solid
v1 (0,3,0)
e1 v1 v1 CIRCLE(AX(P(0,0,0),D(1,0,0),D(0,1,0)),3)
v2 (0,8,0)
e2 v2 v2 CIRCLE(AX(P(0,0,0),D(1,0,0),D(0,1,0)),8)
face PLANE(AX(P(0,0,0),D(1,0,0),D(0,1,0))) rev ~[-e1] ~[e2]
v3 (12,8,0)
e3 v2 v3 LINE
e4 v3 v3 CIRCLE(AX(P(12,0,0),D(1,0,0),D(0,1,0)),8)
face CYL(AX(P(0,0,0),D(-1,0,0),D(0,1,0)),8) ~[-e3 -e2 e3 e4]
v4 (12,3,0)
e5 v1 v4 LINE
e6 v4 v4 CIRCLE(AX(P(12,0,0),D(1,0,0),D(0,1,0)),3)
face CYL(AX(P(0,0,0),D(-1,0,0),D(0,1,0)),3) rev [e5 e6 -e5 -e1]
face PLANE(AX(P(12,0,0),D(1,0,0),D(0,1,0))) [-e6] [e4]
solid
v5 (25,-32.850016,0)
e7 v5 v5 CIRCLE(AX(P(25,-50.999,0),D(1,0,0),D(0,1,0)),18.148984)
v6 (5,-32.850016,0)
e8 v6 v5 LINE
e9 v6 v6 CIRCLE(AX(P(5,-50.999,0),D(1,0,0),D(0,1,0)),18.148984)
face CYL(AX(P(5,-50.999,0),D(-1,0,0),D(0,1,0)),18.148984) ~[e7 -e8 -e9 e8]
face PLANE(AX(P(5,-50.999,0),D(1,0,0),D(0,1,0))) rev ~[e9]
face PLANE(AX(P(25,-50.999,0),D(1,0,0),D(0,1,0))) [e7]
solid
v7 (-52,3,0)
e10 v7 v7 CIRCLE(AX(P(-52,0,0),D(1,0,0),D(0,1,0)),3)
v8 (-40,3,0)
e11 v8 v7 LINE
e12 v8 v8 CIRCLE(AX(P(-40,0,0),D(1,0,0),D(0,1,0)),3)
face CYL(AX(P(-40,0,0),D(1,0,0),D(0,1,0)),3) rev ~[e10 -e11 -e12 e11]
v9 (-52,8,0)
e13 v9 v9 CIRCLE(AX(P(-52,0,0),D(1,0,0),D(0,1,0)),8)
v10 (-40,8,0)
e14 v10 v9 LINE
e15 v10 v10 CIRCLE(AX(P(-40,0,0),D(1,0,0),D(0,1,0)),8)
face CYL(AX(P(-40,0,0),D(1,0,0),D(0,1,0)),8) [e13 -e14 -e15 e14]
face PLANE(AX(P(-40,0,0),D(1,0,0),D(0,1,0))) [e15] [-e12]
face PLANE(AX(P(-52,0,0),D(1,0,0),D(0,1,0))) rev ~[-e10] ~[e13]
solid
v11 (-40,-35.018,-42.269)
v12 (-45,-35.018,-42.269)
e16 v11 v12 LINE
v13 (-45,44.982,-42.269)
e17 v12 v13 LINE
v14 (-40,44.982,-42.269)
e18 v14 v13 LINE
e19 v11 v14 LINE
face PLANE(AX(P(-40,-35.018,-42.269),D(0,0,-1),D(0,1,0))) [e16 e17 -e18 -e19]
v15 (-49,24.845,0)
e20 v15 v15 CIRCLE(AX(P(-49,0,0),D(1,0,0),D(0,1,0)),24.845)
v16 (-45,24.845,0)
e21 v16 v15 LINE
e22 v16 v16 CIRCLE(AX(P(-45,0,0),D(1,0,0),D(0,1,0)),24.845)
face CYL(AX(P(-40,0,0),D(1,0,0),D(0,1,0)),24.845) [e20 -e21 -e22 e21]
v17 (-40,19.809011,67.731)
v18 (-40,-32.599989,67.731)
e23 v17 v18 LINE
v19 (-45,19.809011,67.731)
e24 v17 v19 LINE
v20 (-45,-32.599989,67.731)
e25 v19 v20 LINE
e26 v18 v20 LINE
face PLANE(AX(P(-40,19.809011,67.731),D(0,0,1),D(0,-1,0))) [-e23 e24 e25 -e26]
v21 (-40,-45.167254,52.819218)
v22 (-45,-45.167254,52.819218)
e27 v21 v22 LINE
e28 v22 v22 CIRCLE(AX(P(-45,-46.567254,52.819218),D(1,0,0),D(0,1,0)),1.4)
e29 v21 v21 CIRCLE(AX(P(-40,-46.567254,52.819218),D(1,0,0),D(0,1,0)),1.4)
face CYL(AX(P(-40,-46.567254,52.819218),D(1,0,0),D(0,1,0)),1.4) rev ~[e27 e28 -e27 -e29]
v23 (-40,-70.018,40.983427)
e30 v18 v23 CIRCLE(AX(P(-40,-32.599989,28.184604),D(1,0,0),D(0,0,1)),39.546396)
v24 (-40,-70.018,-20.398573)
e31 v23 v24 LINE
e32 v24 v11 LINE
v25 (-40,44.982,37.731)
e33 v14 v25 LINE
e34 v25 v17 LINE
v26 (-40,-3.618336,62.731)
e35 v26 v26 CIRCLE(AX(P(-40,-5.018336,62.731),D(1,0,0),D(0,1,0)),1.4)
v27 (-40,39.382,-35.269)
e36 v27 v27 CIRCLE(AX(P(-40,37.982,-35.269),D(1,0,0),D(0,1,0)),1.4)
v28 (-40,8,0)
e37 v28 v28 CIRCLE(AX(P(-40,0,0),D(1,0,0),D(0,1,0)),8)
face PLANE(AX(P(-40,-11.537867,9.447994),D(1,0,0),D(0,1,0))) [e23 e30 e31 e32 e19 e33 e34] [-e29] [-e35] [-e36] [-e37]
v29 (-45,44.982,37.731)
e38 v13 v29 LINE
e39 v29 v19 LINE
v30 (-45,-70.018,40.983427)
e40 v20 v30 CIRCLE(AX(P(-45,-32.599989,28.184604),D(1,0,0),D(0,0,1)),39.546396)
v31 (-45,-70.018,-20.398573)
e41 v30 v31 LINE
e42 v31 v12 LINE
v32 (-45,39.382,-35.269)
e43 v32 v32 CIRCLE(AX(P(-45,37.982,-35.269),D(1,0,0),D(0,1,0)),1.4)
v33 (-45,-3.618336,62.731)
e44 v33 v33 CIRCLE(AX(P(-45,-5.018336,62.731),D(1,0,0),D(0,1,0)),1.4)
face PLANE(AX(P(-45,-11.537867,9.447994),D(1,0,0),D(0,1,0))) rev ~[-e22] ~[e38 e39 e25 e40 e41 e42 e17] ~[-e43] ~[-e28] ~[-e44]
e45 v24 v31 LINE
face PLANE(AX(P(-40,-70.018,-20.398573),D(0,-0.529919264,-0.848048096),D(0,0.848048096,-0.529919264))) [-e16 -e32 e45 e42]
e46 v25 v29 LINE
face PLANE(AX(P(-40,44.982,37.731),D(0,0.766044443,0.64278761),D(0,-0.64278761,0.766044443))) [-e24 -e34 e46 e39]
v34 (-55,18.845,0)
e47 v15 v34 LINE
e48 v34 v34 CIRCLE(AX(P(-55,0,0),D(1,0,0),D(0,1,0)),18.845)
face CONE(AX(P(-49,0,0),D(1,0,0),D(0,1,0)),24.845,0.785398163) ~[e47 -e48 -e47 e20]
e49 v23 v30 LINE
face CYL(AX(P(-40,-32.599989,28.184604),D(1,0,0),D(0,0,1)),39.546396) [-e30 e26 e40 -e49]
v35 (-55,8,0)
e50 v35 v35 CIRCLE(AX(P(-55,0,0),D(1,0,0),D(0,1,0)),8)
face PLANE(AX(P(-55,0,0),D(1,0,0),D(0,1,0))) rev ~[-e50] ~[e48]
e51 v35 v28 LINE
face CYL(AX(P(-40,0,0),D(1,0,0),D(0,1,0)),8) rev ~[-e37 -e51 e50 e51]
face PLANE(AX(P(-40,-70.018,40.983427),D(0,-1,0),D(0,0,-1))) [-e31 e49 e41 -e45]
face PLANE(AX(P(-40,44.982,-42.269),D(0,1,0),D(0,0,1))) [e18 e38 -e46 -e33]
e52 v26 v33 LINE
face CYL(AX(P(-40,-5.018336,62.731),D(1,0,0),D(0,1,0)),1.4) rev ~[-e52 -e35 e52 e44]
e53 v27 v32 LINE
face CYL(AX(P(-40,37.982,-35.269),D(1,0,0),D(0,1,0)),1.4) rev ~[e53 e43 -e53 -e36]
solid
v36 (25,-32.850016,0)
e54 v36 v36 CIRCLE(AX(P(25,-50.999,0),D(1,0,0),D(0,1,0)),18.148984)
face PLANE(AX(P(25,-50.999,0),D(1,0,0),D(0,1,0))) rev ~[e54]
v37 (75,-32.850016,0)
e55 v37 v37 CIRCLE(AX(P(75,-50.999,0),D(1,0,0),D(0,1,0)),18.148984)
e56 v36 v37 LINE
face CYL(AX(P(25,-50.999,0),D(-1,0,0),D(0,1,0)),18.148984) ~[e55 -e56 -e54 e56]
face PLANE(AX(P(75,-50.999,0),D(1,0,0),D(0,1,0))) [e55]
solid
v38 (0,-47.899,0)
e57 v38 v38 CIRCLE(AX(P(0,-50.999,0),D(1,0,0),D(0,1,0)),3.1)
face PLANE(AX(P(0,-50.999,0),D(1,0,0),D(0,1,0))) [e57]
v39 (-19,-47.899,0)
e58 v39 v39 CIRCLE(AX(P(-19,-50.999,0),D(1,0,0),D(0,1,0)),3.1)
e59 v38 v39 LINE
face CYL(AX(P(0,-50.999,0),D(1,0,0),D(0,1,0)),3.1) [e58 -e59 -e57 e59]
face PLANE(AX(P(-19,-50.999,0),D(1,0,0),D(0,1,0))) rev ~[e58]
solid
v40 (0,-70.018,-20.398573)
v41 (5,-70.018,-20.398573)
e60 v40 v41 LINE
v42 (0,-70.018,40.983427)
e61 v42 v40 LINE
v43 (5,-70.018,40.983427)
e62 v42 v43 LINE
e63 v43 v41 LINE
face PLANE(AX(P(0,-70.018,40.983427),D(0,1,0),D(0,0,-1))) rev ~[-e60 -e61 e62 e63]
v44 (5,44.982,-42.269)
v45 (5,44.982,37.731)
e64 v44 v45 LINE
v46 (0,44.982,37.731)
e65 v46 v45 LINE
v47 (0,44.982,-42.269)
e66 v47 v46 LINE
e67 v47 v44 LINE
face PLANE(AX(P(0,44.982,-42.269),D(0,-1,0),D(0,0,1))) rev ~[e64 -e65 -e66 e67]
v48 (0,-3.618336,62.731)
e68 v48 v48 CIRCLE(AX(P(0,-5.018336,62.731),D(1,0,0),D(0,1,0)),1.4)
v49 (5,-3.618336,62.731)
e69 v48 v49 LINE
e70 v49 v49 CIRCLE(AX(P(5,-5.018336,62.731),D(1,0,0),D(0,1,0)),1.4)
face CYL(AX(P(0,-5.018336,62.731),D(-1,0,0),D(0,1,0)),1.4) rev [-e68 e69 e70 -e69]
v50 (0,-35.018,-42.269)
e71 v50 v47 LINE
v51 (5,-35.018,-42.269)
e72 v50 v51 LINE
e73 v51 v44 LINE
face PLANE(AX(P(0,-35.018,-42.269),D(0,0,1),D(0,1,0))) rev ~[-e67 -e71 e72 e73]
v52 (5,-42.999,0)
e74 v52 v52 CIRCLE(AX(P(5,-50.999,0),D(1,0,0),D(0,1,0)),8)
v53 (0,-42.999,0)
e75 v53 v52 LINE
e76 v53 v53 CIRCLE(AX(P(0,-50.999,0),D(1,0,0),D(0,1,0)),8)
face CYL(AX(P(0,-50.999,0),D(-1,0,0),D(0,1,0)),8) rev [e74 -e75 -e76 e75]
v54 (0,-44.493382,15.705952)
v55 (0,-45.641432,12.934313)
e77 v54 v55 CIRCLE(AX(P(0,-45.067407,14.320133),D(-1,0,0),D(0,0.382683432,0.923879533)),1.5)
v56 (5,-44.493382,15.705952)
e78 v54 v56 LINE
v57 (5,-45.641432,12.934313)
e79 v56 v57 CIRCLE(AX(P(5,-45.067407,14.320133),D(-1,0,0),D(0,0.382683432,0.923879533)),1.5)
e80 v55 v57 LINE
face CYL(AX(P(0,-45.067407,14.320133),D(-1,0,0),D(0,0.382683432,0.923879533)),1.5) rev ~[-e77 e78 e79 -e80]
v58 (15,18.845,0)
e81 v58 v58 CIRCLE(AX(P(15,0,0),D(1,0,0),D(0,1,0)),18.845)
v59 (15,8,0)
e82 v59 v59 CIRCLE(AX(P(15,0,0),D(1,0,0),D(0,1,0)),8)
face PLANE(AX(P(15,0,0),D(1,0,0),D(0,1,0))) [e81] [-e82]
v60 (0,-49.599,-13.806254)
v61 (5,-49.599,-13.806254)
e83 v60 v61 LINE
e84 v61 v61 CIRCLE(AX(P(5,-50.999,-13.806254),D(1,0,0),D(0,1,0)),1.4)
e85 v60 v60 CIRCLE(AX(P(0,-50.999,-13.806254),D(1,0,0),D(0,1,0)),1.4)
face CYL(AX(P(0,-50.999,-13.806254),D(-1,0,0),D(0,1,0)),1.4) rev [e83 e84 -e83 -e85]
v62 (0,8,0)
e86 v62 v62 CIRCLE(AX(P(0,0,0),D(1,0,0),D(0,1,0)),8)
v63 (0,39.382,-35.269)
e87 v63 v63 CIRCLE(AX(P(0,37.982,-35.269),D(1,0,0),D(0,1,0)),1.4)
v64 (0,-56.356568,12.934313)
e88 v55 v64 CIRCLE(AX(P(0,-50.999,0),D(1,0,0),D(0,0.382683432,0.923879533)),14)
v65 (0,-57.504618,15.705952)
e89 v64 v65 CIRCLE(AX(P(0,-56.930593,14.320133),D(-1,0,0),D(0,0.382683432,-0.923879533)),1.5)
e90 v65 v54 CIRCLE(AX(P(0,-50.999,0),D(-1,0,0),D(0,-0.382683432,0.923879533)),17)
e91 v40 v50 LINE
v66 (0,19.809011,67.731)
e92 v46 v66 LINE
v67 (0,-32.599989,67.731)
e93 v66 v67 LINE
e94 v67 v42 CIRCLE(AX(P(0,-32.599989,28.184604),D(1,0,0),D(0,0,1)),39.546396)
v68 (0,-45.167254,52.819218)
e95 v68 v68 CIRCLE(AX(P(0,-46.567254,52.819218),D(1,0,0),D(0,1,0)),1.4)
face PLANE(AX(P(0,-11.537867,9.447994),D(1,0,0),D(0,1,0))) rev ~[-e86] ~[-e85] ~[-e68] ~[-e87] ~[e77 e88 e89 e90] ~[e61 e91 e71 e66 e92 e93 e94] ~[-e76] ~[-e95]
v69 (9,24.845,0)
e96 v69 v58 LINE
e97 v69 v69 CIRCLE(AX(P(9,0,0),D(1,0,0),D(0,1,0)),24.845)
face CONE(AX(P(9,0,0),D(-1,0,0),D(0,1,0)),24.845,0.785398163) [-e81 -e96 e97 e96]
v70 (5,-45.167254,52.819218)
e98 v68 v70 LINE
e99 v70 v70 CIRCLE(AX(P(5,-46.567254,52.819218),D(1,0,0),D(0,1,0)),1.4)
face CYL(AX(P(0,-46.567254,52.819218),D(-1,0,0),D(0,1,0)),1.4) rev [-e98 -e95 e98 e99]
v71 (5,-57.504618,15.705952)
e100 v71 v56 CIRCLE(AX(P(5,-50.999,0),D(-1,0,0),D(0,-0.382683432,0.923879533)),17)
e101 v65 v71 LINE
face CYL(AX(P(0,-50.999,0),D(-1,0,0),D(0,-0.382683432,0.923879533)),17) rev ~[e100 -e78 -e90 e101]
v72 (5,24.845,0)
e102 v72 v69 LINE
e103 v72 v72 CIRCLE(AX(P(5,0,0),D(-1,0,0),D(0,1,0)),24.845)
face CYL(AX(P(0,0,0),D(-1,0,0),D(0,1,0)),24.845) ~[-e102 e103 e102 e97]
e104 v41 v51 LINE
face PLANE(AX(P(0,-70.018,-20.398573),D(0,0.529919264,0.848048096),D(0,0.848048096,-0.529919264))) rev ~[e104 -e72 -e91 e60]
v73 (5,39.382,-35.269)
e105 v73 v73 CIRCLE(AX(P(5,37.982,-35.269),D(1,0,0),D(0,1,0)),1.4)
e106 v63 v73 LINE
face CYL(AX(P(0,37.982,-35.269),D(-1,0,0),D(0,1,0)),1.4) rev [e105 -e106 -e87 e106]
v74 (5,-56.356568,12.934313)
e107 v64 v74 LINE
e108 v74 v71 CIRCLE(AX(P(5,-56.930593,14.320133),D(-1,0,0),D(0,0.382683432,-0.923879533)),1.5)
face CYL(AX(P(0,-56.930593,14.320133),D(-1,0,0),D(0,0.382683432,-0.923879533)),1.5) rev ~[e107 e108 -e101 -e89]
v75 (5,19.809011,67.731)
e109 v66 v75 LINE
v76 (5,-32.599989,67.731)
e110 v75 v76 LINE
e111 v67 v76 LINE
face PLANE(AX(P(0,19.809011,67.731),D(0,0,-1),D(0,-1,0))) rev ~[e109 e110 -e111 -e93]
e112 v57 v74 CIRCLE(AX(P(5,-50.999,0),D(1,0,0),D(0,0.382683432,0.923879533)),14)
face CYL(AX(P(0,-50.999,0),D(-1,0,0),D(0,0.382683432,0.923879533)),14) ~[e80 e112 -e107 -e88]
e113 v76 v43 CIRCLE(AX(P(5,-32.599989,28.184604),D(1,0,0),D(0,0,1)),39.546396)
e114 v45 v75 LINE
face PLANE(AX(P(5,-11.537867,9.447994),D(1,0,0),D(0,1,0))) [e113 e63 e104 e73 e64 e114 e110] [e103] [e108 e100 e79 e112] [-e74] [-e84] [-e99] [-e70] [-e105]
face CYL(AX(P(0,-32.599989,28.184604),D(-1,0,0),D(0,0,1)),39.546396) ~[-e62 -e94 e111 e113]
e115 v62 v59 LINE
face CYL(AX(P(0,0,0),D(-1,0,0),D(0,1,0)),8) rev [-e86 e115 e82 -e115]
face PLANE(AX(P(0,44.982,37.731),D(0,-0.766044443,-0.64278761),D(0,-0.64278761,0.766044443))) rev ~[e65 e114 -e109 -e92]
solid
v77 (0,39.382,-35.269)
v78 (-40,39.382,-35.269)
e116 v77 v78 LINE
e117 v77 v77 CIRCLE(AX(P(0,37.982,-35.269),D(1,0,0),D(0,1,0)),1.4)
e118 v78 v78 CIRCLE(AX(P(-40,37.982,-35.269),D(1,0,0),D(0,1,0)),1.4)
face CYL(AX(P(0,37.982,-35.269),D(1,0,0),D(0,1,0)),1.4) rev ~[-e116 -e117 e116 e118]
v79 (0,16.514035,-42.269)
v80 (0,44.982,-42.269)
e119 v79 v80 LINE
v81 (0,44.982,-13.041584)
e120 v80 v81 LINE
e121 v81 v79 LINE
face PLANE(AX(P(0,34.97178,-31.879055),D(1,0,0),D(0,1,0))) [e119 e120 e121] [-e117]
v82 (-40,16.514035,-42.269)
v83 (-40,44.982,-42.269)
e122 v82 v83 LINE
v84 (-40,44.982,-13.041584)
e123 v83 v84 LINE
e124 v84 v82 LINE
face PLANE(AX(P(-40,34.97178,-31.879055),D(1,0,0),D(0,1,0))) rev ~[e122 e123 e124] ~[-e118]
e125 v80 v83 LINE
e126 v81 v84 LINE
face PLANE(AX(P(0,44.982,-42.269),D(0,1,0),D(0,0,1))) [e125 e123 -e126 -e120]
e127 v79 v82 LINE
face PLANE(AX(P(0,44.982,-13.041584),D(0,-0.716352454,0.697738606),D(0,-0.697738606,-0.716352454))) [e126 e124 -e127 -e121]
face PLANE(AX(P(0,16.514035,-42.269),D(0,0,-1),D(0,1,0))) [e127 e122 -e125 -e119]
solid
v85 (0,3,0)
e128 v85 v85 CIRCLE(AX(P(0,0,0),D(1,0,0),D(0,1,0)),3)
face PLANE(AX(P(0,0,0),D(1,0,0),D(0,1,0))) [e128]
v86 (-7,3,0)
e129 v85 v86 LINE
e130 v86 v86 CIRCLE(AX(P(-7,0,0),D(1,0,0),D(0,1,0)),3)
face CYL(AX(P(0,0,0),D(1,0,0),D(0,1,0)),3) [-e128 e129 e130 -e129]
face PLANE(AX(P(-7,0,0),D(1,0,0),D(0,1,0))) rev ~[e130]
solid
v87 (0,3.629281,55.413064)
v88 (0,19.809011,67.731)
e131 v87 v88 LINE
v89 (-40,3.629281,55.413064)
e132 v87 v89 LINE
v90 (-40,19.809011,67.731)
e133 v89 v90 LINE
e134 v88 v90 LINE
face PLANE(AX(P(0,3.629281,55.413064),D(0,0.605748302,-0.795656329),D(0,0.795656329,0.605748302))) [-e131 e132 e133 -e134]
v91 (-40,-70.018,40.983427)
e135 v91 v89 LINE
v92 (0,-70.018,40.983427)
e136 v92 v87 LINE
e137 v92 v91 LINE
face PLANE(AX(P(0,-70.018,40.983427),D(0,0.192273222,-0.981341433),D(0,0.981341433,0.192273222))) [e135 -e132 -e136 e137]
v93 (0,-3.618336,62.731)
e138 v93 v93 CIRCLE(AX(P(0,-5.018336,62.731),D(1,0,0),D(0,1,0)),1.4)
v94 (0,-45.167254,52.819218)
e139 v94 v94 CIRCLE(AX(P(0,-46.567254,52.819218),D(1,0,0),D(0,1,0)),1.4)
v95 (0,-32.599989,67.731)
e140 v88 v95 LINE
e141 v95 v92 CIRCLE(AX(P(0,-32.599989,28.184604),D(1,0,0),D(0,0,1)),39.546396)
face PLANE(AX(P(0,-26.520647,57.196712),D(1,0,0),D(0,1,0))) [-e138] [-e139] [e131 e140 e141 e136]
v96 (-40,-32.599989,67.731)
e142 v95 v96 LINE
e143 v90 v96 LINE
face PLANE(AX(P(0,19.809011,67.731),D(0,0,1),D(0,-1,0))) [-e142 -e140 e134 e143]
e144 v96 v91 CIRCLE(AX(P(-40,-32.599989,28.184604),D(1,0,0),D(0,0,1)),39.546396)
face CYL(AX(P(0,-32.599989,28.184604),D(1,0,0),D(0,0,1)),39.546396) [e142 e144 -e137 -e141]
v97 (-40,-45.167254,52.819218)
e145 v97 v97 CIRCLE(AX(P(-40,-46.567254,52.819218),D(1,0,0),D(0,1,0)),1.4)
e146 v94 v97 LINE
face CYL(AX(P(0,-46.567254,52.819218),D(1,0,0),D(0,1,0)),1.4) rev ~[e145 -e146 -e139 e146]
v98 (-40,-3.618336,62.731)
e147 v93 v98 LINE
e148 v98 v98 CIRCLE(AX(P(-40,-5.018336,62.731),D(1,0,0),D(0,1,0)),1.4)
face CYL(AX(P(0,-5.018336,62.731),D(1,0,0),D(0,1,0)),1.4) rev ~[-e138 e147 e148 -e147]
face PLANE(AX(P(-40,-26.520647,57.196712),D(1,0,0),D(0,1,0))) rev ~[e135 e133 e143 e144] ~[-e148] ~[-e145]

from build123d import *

# Parameters (mm, degrees)
F0_R      = 18.1489835963
F0_R_2    = 24.845
F0_R_3    = 17.845
F0_R_4    = 1.4
F0_R_5    = 8
F1_DEPTH  = 5
F2_DEPTH  = 15
F3_SIZE   = 6
F14_START = -40
F0_R_6    = 3.1
F14_DEPTH = 5
F4_START  = -40
F4_DEPTH  = 15
F5_SIZE   = 6
F6_DEPTH  = 40
F7_DEPTH  = 40
F0_R_7    = 3
F8_DEPTH  = 7
F9_DEPTH  = 19
F10_DEPTH = 12
F11_START = -40
F11_DEPTH = 12
F12_START = 5
F12_DEPTH = 20
F13_START = 25
F13_DEPTH = 50


with BuildPart() as f1:
    # F0 (on Right) → F1 (new body)
    with BuildSketch(Plane.YZ):
        Polygon((44.982, 37.731), (19.8090110647, 67.731), (3.6292809527, 55.4130636156), (-70.018, 40.9834273168), (-70.018, -20.3985726832), (-35.018, -42.269), (16.5140349418, -42.269), (44.982, -13.0415838212), align=None)
        with Locations((-50.999, 0)):
            Circle(F0_R, mode=Mode.SUBTRACT)
        Circle(F0_R_2, mode=Mode.SUBTRACT)
        Circle(F0_R_2)
        Circle(F0_R_3, mode=Mode.SUBTRACT)
        with BuildLine():
            Line((19.8090110647, 67.731), (-32.5999889353, 67.731))
            ThreePointArc((-32.5999889353, 67.731), (-55.5974898674, 60.3565232114), (-70.018, 40.9834273168))
            Line((-70.018, 40.9834273168), (3.6292809527, 55.4130636156))
            Line((3.6292809527, 55.4130636156), (19.8090110647, 67.731))
        make_face()
        with Locations((-46.5672537684, 52.8192184865)):
            Circle(F0_R_4, mode=Mode.SUBTRACT)
        with Locations((-5.0183360389, 62.731)):
            Circle(F0_R_4, mode=Mode.SUBTRACT)
        with Locations((-50.999, 0)):
            Circle(F0_R)
        with Locations((-50.999, -13.8062536716)):
            Circle(F0_R_4, mode=Mode.SUBTRACT)
        with Locations((-50.999, 0)):
            Circle(F0_R_5, mode=Mode.SUBTRACT)
        with BuildLine():
            ThreePointArc((-44.4933816498, 15.7059520527), (-43.6815874996, 13.7461076054), (-45.6414319469, 12.9343134552))
            ThreePointArc((-45.6414319469, 12.9343134552), (-50.999, 14), (-56.3565680531, 12.9343134552))
            ThreePointArc((-56.3565680531, 12.9343134552), (-58.3164125004, 13.7461076054), (-57.5046183502, 15.7059520527))
            ThreePointArc((-57.5046183502, 15.7059520527), (-50.999, 17), (-44.4933816498, 15.7059520527))
        make_face(mode=Mode.SUBTRACT)
        Circle(F0_R_3)
        Circle(F0_R_5, mode=Mode.SUBTRACT)
        Polygon((44.982, -42.269), (44.982, -13.0415838212), (16.5140349418, -42.269), align=None)
        with Locations((37.982, -35.269)):
            Circle(F0_R_4, mode=Mode.SUBTRACT)
    extrude(amount=F1_DEPTH)

    # F0 (on Right) → F2 (join)
    with BuildSketch(Plane.YZ):
        Circle(F0_R_2)
        Circle(F0_R_3, mode=Mode.SUBTRACT)
        Circle(F0_R_3)
        Circle(F0_R_5, mode=Mode.SUBTRACT)
    extrude(amount=F2_DEPTH)

    # F3
    f3_edges = [f1.edges().sort_by_distance(p)[0] for p in [
        (15, -24.845, 0),
    ]]
    chamfer(f3_edges, length=F3_SIZE)


with BuildPart() as f14:
    # F0 (on Right) → F14 (new body)
    with BuildSketch(Plane.YZ.offset(F14_START)):
        Polygon((44.982, 37.731), (19.8090110647, 67.731), (3.6292809527, 55.4130636156), (-70.018, 40.9834273168), (-70.018, -20.3985726832), (-35.018, -42.269), (16.5140349418, -42.269), (44.982, -13.0415838212), align=None)
        with Locations((-50.999, 0)):
            Circle(F0_R, mode=Mode.SUBTRACT)
        Circle(F0_R_2, mode=Mode.SUBTRACT)
        Circle(F0_R_2)
        Circle(F0_R_3, mode=Mode.SUBTRACT)
        with BuildLine():
            Line((19.8090110647, 67.731), (-32.5999889353, 67.731))
            ThreePointArc((-32.5999889353, 67.731), (-55.5974898674, 60.3565232114), (-70.018, 40.9834273168))
            Line((-70.018, 40.9834273168), (3.6292809527, 55.4130636156))
            Line((3.6292809527, 55.4130636156), (19.8090110647, 67.731))
        make_face()
        with Locations((-46.5672537684, 52.8192184865)):
            Circle(F0_R_4, mode=Mode.SUBTRACT)
        with Locations((-5.0183360389, 62.731)):
            Circle(F0_R_4, mode=Mode.SUBTRACT)
        with Locations((-50.999, 0)):
            Circle(F0_R)
        with Locations((-50.999, -13.8062536716)):
            Circle(F0_R_4, mode=Mode.SUBTRACT)
        with Locations((-50.999, 0)):
            Circle(F0_R_5, mode=Mode.SUBTRACT)
        with BuildLine():
            ThreePointArc((-44.4933816498, 15.7059520527), (-43.6815874996, 13.7461076054), (-45.6414319469, 12.9343134552))
            ThreePointArc((-45.6414319469, 12.9343134552), (-50.999, 14), (-56.3565680531, 12.9343134552))
            ThreePointArc((-56.3565680531, 12.9343134552), (-58.3164125004, 13.7461076054), (-57.5046183502, 15.7059520527))
            ThreePointArc((-57.5046183502, 15.7059520527), (-50.999, 17), (-44.4933816498, 15.7059520527))
        make_face(mode=Mode.SUBTRACT)
        Circle(F0_R_3)
        Circle(F0_R_5, mode=Mode.SUBTRACT)
        Polygon((44.982, -42.269), (44.982, -13.0415838212), (16.5140349418, -42.269), align=None)
        with Locations((37.982, -35.269)):
            Circle(F0_R_4, mode=Mode.SUBTRACT)
        with Locations((-50.999, 0)):
            Circle(F0_R_5)
        with Locations((-50.999, 0)):
            Circle(F0_R_6, mode=Mode.SUBTRACT)
        with BuildLine():
            ThreePointArc((-56.3565680531, 12.9343134552), (-50.999, 14), (-45.6414319469, 12.9343134552))
            ThreePointArc((-45.6414319469, 12.9343134552), (-43.6815874996, 13.7461076054), (-44.4933816498, 15.7059520527))
            ThreePointArc((-44.4933816498, 15.7059520527), (-50.999, 17), (-57.5046183502, 15.7059520527))
            ThreePointArc((-57.5046183502, 15.7059520527), (-58.3164125004, 13.7461076054), (-56.3565680531, 12.9343134552))
        make_face()
        with Locations((-50.999, 0)):
            Circle(F0_R_6)
        with Locations((-50.999, -13.8062536716)):
            Circle(F0_R_4)
    extrude(amount=-F14_DEPTH)

    # F0 (on Right) → F4 (join)
    with BuildSketch(Plane.YZ.offset(F4_START)):
        Circle(F0_R_2)
        Circle(F0_R_3, mode=Mode.SUBTRACT)
        Circle(F0_R_3)
        Circle(F0_R_5, mode=Mode.SUBTRACT)
    extrude(amount=-F4_DEPTH)

    # F5
    f5_edges = [f14.edges().sort_by_distance(p)[0] for p in [
        (-55, -24.845, 0),
    ]]
    chamfer(f5_edges, length=F5_SIZE)


with BuildPart() as f6:
    # F0 (on Right) → F6 (new body)
    with BuildSketch(Plane.YZ):
        with BuildLine():
            Line((19.8090110647, 67.731), (-32.5999889353, 67.731))
            ThreePointArc((-32.5999889353, 67.731), (-55.5974898674, 60.3565232114), (-70.018, 40.9834273168))
            Line((-70.018, 40.9834273168), (3.6292809527, 55.4130636156))
            Line((3.6292809527, 55.4130636156), (19.8090110647, 67.731))
        make_face()
        with Locations((-46.5672537684, 52.8192184865)):
            Circle(F0_R_4, mode=Mode.SUBTRACT)
        with Locations((-5.0183360389, 62.731)):
            Circle(F0_R_4, mode=Mode.SUBTRACT)
    extrude(amount=-F6_DEPTH)


with BuildPart() as f7:
    # F0 (on Right) → F7 (new body)
    with BuildSketch(Plane.YZ):
        Polygon((44.982, -42.269), (44.982, -13.0415838212), (16.5140349418, -42.269), align=None)
        with Locations((37.982, -35.269)):
            Circle(F0_R_4, mode=Mode.SUBTRACT)
    extrude(amount=-F7_DEPTH)


with BuildPart() as f8:
    # F0 (on Right) → F8 (new body)
    with BuildSketch(Plane.YZ):
        Circle(F0_R_7)
    extrude(amount=-F8_DEPTH)


with BuildPart() as f9:
    # F0 (on Right) → F9 (new body)
    with BuildSketch(Plane.YZ):
        with Locations((-50.999, 0)):
            Circle(F0_R_6)
    extrude(amount=-F9_DEPTH)


with BuildPart() as f10:
    # F0 (on Right) → F10 (new body)
    with BuildSketch(Plane.YZ):
        Circle(F0_R_5)
        Circle(F0_R_7, mode=Mode.SUBTRACT)
    extrude(amount=F10_DEPTH)


with BuildPart() as f11:
    # F0 (on Right) → F11 (new body)
    with BuildSketch(Plane.YZ.offset(F11_START)):
        Circle(F0_R_5)
        Circle(F0_R_7, mode=Mode.SUBTRACT)
    extrude(amount=-F11_DEPTH)


with BuildPart() as f12:
    # F0 (on Right) → F12 (new body)
    with BuildSketch(Plane.YZ.offset(F12_START)):
        with Locations((-50.999, 0)):
            Circle(F0_R)
        with Locations((-50.999, -13.8062536716)):
            Circle(F0_R_4, mode=Mode.SUBTRACT)
        with Locations((-50.999, 0)):
            Circle(F0_R_5, mode=Mode.SUBTRACT)
        with BuildLine():
            ThreePointArc((-44.4933816498, 15.7059520527), (-43.6815874996, 13.7461076054), (-45.6414319469, 12.9343134552))
            ThreePointArc((-45.6414319469, 12.9343134552), (-50.999, 14), (-56.3565680531, 12.9343134552))
            ThreePointArc((-56.3565680531, 12.9343134552), (-58.3164125004, 13.7461076054), (-57.5046183502, 15.7059520527))
            ThreePointArc((-57.5046183502, 15.7059520527), (-50.999, 17), (-44.4933816498, 15.7059520527))
        make_face(mode=Mode.SUBTRACT)
        with BuildLine():
            ThreePointArc((-56.3565680531, 12.9343134552), (-50.999, 14), (-45.6414319469, 12.9343134552))
            ThreePointArc((-45.6414319469, 12.9343134552), (-43.6815874996, 13.7461076054), (-44.4933816498, 15.7059520527))
            ThreePointArc((-44.4933816498, 15.7059520527), (-50.999, 17), (-57.5046183502, 15.7059520527))
            ThreePointArc((-57.5046183502, 15.7059520527), (-58.3164125004, 13.7461076054), (-56.3565680531, 12.9343134552))
        make_face()
        with Locations((-50.999, -13.8062536716)):
            Circle(F0_R_4)
        with Locations((-50.999, 0)):
            Circle(F0_R_5)
        with Locations((-50.999, 0)):
            Circle(F0_R_6, mode=Mode.SUBTRACT)
        with Locations((-50.999, 0)):
            Circle(F0_R_6)
    extrude(amount=F12_DEPTH)


with BuildPart() as f13:
    # F0 (on Right) → F13 (new body)
    with BuildSketch(Plane.YZ.offset(F13_START)):
        with Locations((-50.999, 0)):
            Circle(F0_R)
        with Locations((-50.999, -13.8062536716)):
            Circle(F0_R_4, mode=Mode.SUBTRACT)
        with Locations((-50.999, 0)):
            Circle(F0_R_5, mode=Mode.SUBTRACT)
        with BuildLine():
            ThreePointArc((-44.4933816498, 15.7059520527), (-43.6815874996, 13.7461076054), (-45.6414319469, 12.9343134552))
            ThreePointArc((-45.6414319469, 12.9343134552), (-50.999, 14), (-56.3565680531, 12.9343134552))
            ThreePointArc((-56.3565680531, 12.9343134552), (-58.3164125004, 13.7461076054), (-57.5046183502, 15.7059520527))
            ThreePointArc((-57.5046183502, 15.7059520527), (-50.999, 17), (-44.4933816498, 15.7059520527))
        make_face(mode=Mode.SUBTRACT)
        with BuildLine():
            ThreePointArc((-56.3565680531, 12.9343134552), (-50.999, 14), (-45.6414319469, 12.9343134552))
            ThreePointArc((-45.6414319469, 12.9343134552), (-43.6815874996, 13.7461076054), (-44.4933816498, 15.7059520527))
            ThreePointArc((-44.4933816498, 15.7059520527), (-50.999, 17), (-57.5046183502, 15.7059520527))
            ThreePointArc((-57.5046183502, 15.7059520527), (-58.3164125004, 13.7461076054), (-56.3565680531, 12.9343134552))
        make_face()
        with Locations((-50.999, 0)):
            Circle(F0_R_5)
        with Locations((-50.999, 0)):
            Circle(F0_R_6, mode=Mode.SUBTRACT)
        with Locations((-50.999, 0)):
            Circle(F0_R_6)
        with Locations((-50.999, -13.8062536716)):
            Circle(F0_R_4)
    extrude(amount=F13_DEPTH)


solid = Compound([f1.part, f14.part, f6.part, f7.part, f8.part, f9.part, f10.part, f11.part, f12.part, f13.part])
